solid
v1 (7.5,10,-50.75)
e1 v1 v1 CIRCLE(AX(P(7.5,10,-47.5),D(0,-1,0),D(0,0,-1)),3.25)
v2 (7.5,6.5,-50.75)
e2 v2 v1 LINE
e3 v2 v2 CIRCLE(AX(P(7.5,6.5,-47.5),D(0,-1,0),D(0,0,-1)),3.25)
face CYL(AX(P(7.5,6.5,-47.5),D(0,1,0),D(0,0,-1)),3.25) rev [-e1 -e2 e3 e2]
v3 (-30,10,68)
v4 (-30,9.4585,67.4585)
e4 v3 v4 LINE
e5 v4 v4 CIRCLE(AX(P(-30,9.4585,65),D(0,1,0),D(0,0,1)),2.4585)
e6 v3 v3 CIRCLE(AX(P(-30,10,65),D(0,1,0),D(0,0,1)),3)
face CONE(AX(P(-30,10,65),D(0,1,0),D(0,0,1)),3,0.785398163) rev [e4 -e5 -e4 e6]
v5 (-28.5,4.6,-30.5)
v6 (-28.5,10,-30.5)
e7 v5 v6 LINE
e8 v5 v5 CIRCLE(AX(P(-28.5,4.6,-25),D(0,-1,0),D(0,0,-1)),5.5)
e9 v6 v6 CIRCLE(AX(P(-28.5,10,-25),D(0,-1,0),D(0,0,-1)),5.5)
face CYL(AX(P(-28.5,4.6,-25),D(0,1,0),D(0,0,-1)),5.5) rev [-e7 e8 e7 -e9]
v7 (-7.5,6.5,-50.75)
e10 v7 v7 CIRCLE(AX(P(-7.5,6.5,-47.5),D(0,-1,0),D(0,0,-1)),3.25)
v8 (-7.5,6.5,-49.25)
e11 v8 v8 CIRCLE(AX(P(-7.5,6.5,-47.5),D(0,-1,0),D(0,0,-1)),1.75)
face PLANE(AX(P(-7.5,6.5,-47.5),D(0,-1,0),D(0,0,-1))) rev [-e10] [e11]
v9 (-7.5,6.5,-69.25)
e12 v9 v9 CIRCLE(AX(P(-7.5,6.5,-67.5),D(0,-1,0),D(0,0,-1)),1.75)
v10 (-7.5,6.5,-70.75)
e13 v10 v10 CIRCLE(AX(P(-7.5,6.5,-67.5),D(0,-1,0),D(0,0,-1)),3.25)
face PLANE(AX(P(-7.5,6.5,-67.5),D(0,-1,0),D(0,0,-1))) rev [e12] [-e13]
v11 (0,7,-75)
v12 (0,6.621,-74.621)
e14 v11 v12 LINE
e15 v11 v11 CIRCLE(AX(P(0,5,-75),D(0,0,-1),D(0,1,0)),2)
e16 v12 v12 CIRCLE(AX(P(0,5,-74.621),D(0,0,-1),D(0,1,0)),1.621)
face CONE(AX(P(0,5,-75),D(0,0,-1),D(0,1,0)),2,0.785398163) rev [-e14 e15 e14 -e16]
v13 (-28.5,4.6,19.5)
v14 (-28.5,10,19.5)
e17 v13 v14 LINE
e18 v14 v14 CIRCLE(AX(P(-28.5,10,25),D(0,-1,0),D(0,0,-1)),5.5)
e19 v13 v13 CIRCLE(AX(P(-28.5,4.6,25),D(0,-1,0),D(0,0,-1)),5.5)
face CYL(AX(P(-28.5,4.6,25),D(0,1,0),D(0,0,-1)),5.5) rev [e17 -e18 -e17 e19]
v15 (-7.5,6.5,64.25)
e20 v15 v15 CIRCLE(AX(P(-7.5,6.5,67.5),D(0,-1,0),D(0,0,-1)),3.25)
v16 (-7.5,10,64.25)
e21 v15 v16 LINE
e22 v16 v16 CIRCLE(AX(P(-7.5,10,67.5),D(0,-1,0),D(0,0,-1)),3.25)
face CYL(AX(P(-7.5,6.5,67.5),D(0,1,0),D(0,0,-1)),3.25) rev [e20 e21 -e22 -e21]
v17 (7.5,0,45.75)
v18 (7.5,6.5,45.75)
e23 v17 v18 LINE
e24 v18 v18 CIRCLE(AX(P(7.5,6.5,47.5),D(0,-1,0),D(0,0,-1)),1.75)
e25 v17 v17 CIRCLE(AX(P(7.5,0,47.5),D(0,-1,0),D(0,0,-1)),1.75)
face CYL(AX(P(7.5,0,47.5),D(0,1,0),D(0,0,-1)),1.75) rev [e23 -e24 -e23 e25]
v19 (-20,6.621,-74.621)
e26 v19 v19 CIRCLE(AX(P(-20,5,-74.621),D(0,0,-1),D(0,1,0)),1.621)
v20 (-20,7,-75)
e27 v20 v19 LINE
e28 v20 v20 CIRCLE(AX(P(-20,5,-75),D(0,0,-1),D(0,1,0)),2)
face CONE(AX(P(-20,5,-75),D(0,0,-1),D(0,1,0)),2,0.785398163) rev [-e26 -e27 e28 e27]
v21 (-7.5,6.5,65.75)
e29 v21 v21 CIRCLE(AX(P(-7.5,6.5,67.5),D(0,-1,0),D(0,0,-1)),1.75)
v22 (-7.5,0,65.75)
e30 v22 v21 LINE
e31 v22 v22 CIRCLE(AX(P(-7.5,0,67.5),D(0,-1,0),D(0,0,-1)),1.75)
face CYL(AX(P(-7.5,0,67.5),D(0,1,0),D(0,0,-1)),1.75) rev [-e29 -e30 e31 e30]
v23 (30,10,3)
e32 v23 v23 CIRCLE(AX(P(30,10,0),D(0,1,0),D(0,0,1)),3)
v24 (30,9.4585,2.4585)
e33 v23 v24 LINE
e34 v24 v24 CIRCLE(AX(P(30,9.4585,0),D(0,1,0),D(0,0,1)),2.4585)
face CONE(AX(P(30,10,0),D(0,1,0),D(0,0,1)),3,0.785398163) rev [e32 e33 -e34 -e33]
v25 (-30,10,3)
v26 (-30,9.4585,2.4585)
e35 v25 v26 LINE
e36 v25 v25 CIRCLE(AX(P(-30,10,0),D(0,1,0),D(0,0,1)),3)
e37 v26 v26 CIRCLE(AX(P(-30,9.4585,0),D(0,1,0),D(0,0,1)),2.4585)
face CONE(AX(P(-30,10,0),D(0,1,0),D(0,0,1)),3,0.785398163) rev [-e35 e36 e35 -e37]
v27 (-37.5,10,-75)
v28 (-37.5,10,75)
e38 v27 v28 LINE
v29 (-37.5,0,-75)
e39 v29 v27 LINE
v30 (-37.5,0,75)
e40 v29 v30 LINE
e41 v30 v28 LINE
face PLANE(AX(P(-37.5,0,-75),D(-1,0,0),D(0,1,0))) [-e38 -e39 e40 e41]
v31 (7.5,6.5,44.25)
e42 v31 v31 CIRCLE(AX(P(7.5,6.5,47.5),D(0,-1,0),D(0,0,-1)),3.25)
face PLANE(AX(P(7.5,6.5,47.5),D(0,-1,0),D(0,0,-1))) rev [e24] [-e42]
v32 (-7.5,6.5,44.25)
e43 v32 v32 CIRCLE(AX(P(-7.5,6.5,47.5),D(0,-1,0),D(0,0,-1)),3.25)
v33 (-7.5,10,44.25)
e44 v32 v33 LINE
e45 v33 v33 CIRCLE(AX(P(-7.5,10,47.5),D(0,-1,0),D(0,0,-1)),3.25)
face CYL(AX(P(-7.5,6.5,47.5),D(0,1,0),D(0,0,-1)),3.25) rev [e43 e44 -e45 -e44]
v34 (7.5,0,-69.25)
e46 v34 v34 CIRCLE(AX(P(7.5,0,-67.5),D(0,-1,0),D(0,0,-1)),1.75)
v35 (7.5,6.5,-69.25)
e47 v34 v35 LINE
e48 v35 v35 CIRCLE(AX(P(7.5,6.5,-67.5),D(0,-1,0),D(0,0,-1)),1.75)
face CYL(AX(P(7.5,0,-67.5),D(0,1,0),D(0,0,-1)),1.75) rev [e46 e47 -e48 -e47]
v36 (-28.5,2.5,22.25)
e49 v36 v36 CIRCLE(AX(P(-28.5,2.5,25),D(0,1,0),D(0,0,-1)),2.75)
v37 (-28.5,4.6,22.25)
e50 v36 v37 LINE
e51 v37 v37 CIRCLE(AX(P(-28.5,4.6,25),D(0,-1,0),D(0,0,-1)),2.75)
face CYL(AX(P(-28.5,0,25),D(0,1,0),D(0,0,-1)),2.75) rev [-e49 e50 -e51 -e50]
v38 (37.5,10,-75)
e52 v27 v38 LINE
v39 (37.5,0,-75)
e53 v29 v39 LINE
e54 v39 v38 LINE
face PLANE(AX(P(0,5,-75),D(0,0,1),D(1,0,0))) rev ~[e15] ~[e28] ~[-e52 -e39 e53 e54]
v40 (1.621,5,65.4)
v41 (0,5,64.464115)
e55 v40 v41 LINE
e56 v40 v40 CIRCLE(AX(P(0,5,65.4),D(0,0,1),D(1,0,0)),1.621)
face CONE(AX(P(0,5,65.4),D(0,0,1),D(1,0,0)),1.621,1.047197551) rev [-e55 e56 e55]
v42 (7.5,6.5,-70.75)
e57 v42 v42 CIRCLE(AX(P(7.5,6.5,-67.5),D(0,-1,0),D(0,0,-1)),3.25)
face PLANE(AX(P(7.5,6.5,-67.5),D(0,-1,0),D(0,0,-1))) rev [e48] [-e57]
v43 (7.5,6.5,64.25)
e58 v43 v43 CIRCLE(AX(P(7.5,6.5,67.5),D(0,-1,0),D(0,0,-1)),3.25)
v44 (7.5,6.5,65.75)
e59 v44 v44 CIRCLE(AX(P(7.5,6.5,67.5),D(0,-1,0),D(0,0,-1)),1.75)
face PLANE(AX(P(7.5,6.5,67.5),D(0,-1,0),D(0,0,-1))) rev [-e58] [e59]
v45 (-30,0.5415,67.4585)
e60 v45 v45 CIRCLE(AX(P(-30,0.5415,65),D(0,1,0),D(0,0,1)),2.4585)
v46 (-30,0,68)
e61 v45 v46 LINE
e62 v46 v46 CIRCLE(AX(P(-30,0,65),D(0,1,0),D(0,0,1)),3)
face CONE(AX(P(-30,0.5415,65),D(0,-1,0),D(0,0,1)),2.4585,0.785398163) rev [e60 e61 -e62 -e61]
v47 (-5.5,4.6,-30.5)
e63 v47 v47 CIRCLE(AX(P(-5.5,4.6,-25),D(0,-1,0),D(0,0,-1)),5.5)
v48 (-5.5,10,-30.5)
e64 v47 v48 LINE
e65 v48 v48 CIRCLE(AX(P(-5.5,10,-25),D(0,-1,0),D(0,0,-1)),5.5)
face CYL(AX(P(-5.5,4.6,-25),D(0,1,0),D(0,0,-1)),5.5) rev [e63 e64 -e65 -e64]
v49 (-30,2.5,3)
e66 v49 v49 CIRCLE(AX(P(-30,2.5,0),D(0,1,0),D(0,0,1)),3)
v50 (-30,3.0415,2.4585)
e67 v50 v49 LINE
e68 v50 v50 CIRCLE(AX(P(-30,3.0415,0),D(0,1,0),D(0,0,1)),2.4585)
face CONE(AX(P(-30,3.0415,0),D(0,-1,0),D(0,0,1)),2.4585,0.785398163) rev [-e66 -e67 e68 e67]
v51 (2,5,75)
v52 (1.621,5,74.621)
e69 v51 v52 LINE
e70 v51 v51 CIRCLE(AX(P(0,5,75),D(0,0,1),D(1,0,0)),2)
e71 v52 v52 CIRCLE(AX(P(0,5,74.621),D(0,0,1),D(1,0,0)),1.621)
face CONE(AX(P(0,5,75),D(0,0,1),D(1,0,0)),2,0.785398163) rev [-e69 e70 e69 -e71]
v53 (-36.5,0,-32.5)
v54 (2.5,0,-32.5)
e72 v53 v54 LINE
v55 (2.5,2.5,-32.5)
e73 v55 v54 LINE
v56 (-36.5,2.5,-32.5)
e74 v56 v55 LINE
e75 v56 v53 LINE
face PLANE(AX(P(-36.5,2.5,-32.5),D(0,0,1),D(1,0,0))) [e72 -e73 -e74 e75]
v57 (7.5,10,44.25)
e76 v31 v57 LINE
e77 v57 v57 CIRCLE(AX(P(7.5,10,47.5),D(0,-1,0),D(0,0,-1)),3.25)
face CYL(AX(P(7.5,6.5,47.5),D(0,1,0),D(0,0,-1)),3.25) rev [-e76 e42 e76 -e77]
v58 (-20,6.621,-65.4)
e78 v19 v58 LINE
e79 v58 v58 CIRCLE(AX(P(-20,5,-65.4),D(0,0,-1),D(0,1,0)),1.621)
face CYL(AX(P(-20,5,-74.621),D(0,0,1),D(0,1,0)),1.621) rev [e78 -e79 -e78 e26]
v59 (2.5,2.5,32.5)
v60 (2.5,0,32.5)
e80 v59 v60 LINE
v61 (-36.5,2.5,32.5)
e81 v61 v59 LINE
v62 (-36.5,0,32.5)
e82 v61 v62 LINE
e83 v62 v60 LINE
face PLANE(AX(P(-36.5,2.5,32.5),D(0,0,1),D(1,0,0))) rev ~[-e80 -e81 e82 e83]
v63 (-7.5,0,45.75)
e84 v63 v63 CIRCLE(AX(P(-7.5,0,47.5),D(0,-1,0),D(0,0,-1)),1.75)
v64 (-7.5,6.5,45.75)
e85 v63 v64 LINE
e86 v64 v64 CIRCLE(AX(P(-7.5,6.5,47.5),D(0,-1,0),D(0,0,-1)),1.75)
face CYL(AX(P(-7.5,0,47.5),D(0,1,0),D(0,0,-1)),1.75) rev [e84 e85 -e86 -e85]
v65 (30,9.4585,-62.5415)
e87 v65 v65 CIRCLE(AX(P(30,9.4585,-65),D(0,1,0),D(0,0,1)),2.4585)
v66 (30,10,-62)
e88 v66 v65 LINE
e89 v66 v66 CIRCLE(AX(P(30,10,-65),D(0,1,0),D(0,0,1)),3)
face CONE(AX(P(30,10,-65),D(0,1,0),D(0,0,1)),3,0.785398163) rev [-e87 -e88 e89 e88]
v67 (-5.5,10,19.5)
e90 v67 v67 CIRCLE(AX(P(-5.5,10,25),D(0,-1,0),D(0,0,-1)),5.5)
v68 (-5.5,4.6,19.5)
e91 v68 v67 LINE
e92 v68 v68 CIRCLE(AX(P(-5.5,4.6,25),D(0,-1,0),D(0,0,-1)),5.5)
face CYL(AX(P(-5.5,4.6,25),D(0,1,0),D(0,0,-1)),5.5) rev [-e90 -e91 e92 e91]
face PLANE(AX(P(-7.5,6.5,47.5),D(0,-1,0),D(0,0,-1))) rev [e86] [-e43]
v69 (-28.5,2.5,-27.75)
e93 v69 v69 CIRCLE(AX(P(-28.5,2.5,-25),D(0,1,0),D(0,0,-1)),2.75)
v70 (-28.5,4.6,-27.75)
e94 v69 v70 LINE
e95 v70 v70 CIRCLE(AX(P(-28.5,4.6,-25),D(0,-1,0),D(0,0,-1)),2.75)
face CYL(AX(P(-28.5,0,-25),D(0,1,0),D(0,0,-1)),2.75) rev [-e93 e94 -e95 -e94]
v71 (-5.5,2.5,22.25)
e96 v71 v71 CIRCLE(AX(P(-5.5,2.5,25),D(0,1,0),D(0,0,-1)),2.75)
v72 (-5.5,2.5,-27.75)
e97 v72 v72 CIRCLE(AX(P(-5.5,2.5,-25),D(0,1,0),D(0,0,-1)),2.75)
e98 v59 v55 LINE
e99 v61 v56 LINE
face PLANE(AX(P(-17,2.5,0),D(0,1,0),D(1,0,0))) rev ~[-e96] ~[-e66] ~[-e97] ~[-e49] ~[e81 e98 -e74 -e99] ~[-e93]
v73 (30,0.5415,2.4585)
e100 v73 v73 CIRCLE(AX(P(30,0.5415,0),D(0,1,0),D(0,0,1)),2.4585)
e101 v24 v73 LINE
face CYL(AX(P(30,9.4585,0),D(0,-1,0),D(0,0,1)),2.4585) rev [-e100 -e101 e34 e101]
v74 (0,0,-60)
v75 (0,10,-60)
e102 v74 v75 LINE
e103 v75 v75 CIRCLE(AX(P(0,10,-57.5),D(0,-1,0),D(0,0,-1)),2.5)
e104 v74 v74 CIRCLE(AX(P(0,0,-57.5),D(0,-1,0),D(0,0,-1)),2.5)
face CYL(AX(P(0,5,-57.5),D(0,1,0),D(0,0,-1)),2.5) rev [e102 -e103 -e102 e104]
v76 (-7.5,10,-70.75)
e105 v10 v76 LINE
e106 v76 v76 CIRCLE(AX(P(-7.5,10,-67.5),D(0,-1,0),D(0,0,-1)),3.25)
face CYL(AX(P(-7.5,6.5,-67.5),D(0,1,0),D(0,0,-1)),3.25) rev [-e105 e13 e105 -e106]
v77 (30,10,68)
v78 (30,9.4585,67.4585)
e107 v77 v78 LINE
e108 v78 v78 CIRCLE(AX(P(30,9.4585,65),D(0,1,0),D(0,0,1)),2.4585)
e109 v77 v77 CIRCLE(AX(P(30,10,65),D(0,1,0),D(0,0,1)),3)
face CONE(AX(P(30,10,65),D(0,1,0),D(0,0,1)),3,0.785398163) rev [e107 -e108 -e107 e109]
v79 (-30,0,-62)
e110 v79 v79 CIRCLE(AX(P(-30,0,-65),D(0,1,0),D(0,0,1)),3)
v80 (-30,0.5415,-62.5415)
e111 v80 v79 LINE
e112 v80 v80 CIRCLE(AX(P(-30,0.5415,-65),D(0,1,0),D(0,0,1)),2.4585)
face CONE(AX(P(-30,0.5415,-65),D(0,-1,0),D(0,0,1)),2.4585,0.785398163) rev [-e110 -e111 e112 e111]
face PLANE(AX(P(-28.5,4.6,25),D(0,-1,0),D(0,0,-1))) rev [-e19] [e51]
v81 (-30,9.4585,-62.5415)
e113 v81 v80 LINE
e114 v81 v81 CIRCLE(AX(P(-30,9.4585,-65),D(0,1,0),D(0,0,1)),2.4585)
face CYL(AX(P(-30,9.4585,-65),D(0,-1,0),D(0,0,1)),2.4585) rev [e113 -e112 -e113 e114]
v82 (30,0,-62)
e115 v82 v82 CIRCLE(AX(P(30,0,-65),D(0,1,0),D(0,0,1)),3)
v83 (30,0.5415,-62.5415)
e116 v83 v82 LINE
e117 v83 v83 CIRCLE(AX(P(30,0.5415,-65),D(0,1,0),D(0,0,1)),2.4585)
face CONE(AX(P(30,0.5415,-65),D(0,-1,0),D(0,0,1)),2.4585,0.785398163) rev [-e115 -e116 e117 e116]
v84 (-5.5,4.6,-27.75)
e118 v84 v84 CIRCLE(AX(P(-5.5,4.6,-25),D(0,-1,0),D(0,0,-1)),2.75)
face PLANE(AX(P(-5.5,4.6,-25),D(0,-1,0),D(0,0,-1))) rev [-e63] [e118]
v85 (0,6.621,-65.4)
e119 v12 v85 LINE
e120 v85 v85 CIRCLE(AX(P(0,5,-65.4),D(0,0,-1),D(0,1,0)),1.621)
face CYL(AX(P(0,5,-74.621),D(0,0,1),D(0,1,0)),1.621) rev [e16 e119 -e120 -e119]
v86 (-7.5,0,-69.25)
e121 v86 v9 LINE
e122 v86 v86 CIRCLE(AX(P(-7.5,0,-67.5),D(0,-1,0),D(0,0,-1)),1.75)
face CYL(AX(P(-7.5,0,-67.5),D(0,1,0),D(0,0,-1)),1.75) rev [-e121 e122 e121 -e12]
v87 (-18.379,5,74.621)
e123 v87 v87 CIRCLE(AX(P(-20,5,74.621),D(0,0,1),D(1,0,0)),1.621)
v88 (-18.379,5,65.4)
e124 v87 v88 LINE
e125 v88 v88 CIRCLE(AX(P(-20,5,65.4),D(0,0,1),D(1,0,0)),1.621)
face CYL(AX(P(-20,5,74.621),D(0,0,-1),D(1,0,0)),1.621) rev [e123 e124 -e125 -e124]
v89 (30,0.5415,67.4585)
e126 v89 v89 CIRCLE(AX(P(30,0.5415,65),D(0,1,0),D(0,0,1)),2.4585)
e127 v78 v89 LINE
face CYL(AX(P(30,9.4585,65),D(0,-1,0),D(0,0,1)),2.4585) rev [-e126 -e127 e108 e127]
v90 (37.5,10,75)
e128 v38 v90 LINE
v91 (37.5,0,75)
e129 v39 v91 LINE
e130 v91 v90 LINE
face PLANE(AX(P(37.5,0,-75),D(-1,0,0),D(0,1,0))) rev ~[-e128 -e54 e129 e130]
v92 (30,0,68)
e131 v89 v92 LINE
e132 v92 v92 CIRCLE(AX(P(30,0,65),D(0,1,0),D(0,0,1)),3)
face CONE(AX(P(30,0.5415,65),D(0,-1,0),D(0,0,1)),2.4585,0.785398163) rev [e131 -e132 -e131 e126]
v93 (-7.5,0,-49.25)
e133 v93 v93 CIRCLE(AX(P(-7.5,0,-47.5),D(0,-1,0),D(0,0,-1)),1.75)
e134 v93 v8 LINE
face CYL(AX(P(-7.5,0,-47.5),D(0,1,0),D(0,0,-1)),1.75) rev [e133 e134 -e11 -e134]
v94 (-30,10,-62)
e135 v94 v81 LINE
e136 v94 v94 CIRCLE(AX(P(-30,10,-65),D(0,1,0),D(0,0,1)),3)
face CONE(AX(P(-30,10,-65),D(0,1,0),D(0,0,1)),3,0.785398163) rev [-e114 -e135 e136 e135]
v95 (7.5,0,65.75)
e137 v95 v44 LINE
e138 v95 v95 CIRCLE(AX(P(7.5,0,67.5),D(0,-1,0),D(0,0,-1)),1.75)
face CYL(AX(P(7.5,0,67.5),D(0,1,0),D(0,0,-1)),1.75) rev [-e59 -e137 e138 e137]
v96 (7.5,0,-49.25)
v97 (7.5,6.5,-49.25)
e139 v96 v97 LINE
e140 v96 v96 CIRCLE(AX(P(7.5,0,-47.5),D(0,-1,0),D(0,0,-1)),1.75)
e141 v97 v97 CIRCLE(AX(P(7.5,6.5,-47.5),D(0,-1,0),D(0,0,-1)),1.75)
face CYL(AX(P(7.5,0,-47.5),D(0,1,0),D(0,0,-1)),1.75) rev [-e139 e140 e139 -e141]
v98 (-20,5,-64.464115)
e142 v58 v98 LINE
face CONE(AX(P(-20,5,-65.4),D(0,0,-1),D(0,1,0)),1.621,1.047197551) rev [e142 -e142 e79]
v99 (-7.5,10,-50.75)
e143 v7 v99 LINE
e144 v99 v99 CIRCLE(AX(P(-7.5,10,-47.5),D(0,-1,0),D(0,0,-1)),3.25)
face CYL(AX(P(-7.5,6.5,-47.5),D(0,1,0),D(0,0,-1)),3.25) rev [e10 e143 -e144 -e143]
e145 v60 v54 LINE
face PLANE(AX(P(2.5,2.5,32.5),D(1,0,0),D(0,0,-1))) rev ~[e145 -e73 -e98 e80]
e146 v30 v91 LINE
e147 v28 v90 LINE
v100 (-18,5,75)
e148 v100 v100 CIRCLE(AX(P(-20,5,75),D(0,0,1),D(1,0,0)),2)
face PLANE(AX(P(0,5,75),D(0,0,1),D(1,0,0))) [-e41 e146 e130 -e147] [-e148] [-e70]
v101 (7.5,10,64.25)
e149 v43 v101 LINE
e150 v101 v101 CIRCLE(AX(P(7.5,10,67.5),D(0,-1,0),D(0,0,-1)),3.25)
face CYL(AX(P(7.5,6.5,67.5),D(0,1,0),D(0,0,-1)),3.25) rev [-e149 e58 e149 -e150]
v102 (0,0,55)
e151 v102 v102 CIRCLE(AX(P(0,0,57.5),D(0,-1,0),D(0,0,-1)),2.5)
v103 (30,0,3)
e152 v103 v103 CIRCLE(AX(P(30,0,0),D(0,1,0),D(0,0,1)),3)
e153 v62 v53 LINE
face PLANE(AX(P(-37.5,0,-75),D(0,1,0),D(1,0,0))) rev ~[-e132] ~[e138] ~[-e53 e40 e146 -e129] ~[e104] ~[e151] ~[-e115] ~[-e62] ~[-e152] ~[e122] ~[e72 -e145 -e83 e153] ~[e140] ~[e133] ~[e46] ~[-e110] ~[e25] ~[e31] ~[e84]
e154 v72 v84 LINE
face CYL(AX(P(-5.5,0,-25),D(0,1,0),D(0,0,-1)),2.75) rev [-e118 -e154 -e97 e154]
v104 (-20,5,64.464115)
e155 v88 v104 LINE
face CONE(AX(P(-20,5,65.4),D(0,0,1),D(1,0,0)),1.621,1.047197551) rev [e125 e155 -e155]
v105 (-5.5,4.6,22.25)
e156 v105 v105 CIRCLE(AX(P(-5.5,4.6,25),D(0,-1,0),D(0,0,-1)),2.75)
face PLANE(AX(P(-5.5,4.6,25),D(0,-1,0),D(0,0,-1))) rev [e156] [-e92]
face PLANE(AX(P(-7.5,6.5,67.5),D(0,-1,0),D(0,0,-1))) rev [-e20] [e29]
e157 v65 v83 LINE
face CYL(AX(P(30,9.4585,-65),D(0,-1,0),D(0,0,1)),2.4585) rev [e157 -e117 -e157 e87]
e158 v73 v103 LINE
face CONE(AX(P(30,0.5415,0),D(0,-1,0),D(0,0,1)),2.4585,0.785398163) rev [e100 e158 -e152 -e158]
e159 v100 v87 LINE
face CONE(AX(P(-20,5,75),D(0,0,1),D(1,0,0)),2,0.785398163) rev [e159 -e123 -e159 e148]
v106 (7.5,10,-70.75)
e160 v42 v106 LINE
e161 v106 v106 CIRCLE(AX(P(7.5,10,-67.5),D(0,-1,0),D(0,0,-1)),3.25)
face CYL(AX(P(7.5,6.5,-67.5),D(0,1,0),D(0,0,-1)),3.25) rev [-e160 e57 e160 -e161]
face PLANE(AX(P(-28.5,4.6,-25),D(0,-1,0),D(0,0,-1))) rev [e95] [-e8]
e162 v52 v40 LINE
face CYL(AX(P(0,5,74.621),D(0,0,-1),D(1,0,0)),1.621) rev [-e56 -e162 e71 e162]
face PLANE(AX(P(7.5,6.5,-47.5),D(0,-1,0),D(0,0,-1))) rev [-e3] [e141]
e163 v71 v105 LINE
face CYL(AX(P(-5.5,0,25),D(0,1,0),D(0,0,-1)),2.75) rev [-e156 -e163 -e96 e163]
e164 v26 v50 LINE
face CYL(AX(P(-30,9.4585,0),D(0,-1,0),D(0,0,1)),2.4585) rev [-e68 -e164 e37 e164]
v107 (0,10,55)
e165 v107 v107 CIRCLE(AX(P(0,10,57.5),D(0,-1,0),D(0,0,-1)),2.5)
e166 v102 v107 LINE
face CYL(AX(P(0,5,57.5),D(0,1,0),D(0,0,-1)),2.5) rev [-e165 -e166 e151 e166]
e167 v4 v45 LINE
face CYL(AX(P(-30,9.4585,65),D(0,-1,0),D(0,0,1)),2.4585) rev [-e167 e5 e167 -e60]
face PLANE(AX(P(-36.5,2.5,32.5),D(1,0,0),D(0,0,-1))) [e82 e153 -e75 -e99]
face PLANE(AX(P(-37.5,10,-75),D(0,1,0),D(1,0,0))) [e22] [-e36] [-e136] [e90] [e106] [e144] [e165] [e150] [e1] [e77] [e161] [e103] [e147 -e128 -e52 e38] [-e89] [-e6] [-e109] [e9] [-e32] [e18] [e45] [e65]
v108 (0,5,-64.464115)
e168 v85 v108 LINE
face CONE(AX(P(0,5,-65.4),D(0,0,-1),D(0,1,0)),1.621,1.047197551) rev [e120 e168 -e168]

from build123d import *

# Parameters (mm, degrees)
EXTRUDE_1_DEPTH             = 75
EXTRUDE_1_DEPTH_BACK        = 75
SKETCH_1_W                  = 75
SKETCH_1_H                  = 10
SKETCH_2_W                  = 2.5
SKETCH_2_H                  = 10
SKETCH_3_W                  = 2.5
SKETCH_3_H                  = 10
PATTERN_LINEAR_2_COUNT      = 2
PATTERN_LINEAR_2_PITCH      = 23
PATTERN_LINEAR_2_COUNT_DIR2 = 2
PATTERN_LINEAR_2_PITCH_DIR2 = 50
SKETCH_15_W                 = 39
SKETCH_15_H                 = 65
CUT_EXTRUDE_1_DEPTH         = 32.5


with BuildPart() as part:
    # 草图1 → 凸台-拉伸1 (new, two sides: drawn at the far end of the back side and taken through both)
    with BuildSketch(Plane.XY.offset(-EXTRUDE_1_DEPTH_BACK)):
        with Locations((0, 5)):
            Rectangle(SKETCH_1_W, SKETCH_1_H)
    extrude(amount=EXTRUDE_1_DEPTH + EXTRUDE_1_DEPTH_BACK)

    # 草图2 → 切除-旋转1 (revolve, cut)
    with BuildSketch(Plane.XY.offset(57.5)):
        with Locations((-1.25, 5)):
            Rectangle(SKETCH_2_W, SKETCH_2_H)
    revolve(axis=Axis((0, 10, 57.5), (0, -1, 0)), mode=Mode.SUBTRACT)

    # 草图3 → 切除-旋转2 (revolve, cut)
    with BuildSketch(Plane.XY.offset(-57.5)):
        with Locations((-1.25, 5)):
            Rectangle(SKETCH_3_W, SKETCH_3_H)
    revolve(axis=Axis((0, 10, -57.5), (0, -1, 0)), mode=Mode.SUBTRACT)

    # 草图4 → 切除-旋转3 (revolve, cut)
    with BuildSketch(Plane.XY.offset(67.5)):
        Polygon((-7.5, 0), (-9.25, 0), (-9.25, 6.5), (-10.75, 6.5), (-10.75, 10), (-7.5, 10), align=None)
    revolve(axis=Axis((-7.5, 10, 67.5), (0, -1, 0)), mode=Mode.SUBTRACT)

    # 草图6 → 切除-旋转4 (revolve, cut)
    with BuildSketch(Plane.XY.offset(-47.5)):
        Polygon((7.5, 0), (5.75, 0), (5.75, 6.5), (4.25, 6.5), (4.25, 10), (7.5, 10), align=None)
    revolve(axis=Axis((7.5, 10, -47.5), (0, -1, 0)), mode=Mode.SUBTRACT)

    # 草图7 → 切除-旋转5 (revolve, cut)
    with BuildSketch(Plane.XY.offset(-47.5)):
        Polygon((-7.5, 0), (-9.25, 0), (-9.25, 6.5), (-10.75, 6.5), (-10.75, 10), (-7.5, 10), align=None)
    revolve(axis=Axis((-7.5, 10, -47.5), (0, -1, 0)), mode=Mode.SUBTRACT)

    # 草图8 → 切除-旋转6 (revolve, cut)
    with BuildSketch(Plane.XY.offset(-67.5)):
        Polygon((7.5, 0), (5.75, 0), (5.75, 6.5), (4.25, 6.5), (4.25, 10), (7.5, 10), align=None)
    revolve(axis=Axis((7.5, 10, -67.5), (0, -1, 0)), mode=Mode.SUBTRACT)

    # 草图9 → 切除-旋转7 (revolve, cut)
    with BuildSketch(Plane.XY.offset(-67.5)):
        Polygon((-7.5, 0), (-9.25, 0), (-9.25, 6.5), (-10.75, 6.5), (-10.75, 10), (-7.5, 10), align=None)
    revolve(axis=Axis((-7.5, 10, -67.5), (0, -1, 0)), mode=Mode.SUBTRACT)

    # 草图10 → 切除-旋转8 (revolve, cut)
    with BuildSketch(Plane.XY.offset(47.5)):
        Polygon((7.5, 0), (5.75, 0), (5.75, 6.5), (4.25, 6.5), (4.25, 10), (7.5, 10), align=None)
    revolve(axis=Axis((7.5, 10, 47.5), (0, -1, 0)), mode=Mode.SUBTRACT)

    # 草图11 → 切除-旋转9 (revolve, cut)
    with BuildSketch(Plane.XY.offset(47.5)):
        Polygon((-7.5, 0), (-9.25, 0), (-9.25, 6.5), (-10.75, 6.5), (-10.75, 10), (-7.5, 10), align=None)
    revolve(axis=Axis((-7.5, 10, 47.5), (0, -1, 0)), mode=Mode.SUBTRACT)

    # 草图12 → 切除-旋转10 (revolve, cut)
    with BuildSketch(Plane.XY.offset(67.5)):
        Polygon((7.5, 0), (5.75, 0), (5.75, 6.5), (4.25, 6.5), (4.25, 10), (7.5, 10), align=None)
    revolve(axis=Axis((7.5, 10, 67.5), (0, -1, 0)), mode=Mode.SUBTRACT)

    # 草图13 → 切除-旋转11 (revolve, cut)
    with BuildSketch(Plane(origin=(-28.5, 0, 0), x_dir=(0, 0, -1), z_dir=(1, 0, 0))):
        Polygon((-25, 0), (-27.75, 0), (-27.75, 4.6), (-30.5, 4.6), (-30.5, 10), (-25, 10), align=None)
    cut_revolve_11 = revolve(axis=Axis((-28.5, 10, 25), (0, -1, 0)), mode=Mode.SUBTRACT)

    # 阵列(线性)2: Cut-Revolve 11 2 × 2
    with Locations(*[(i * PATTERN_LINEAR_2_PITCH, 0, -j * PATTERN_LINEAR_2_PITCH_DIR2) for i in range(PATTERN_LINEAR_2_COUNT) for j in range(PATTERN_LINEAR_2_COUNT_DIR2) if (i, j) != (0, 0)]):
        add(cut_revolve_11, mode=Mode.SUBTRACT)

    # 草图15 → 切除-拉伸1 (cut)
    with BuildSketch(Plane(origin=(0, 2.5, 0), x_dir=(1, 0, 0), z_dir=(0, 1, 0))):
        with Locations((-17, 0)):
            Rectangle(SKETCH_15_W, SKETCH_15_H)
    extrude(amount=-CUT_EXTRUDE_1_DEPTH, mode=Mode.SUBTRACT)

    # 草图16 → 切除-旋转12 (revolve, cut)
    with BuildSketch(Plane(origin=(0, 0, 0), x_dir=(0, 0, -1), z_dir=(1, 0, 0))):
        Polygon((-75, 5), (-75, 7), (-74.621, 6.621), (-65.4, 6.621), (-64.464115214, 5), align=None)
    revolve(axis=Axis((0, 5, 64.464115214), (0, 0, 1)), mode=Mode.SUBTRACT)

    # 草图17 → 切除-旋转13 (revolve, cut)
    with BuildSketch(Plane(origin=(0, 0, 0), x_dir=(0, 0, -1), z_dir=(1, 0, 0))):
        Polygon((75, 5), (75, 3), (74.621, 3.379), (65.4, 3.379), (64.464115214, 5), align=None)
    revolve(axis=Axis((0, 5, -64.464115214), (0, 0, -1)), mode=Mode.SUBTRACT)

    # 草图18 → 切除-旋转14 (revolve, cut)
    with BuildSketch(Plane(origin=(-20, 0, 0), x_dir=(0, 0, -1), z_dir=(1, 0, 0))):
        Polygon((-75, 5), (-75, 7), (-74.621, 6.621), (-65.4, 6.621), (-64.464115214, 5), align=None)
    revolve(axis=Axis((-20, 5, 64.464115214), (0, 0, 1)), mode=Mode.SUBTRACT)

    # 草图19 → 切除-旋转15 (revolve, cut)
    with BuildSketch(Plane(origin=(-20, 0, 0), x_dir=(0, 0, -1), z_dir=(1, 0, 0))):
        Polygon((75, 5), (75, 3), (74.621, 3.379), (65.4, 3.379), (64.464115214, 5), align=None)
    revolve(axis=Axis((-20, 5, -64.464115214), (0, 0, -1)), mode=Mode.SUBTRACT)

    # 草图20 → 切除-旋转16 (revolve, cut)
    with BuildSketch(Plane(origin=(30, 0, 0), x_dir=(0, 0, -1), z_dir=(1, 0, 0))):
        Polygon((-65, 10), (-62, 10), (-62.5415, 9.4585), (-62.5415, 0.5415), (-62, 0), (-65, 0), align=None)
    revolve(axis=Axis((30, 0, 65), (0, 1, 0)), mode=Mode.SUBTRACT)

    # 草图21 → 切除-旋转17 (revolve, cut)
    with BuildSketch(Plane(origin=(30, 0, 0), x_dir=(0, 0, -1), z_dir=(1, 0, 0))):
        Polygon((65, 10), (68, 10), (67.4585, 9.4585), (67.4585, 0.5415), (68, 0), (65, 0), align=None)
    revolve(axis=Axis((30, 0, -65), (0, 1, 0)), mode=Mode.SUBTRACT)

    # 草图22 → 切除-旋转18 (revolve, cut)
    with BuildSketch(Plane(origin=(30, 0, 0), x_dir=(0, 0, -1), z_dir=(1, 0, 0))):
        Polygon((0, 10), (3, 10), (2.4585, 9.4585), (2.4585, 0.5415), (3, 0), (0, 0), align=None)
    revolve(axis=Axis((30, 0, 0), (0, 1, 0)), mode=Mode.SUBTRACT)

    # 草图23 → 切除-旋转19 (revolve, cut)
    with BuildSketch(Plane(origin=(-30, 0, 0), x_dir=(0, 0, -1), z_dir=(1, 0, 0))):
        Polygon((-65, 10), (-62, 10), (-62.5415, 9.4585), (-62.5415, 0.5415), (-62, 0), (-65, 0), align=None)
    revolve(axis=Axis((-30, 0, 65), (0, 1, 0)), mode=Mode.SUBTRACT)

    # 草图24 → 切除-旋转20 (revolve, cut)
    with BuildSketch(Plane(origin=(-30, 0, 0), x_dir=(0, 0, -1), z_dir=(1, 0, 0))):
        Polygon((65, 10), (68, 10), (67.4585, 9.4585), (67.4585, 0.5415), (68, 0), (65, 0), align=None)
    revolve(axis=Axis((-30, 0, -65), (0, 1, 0)), mode=Mode.SUBTRACT)

    # 草图25 → 切除-旋转21 (revolve, cut)
    with BuildSketch(Plane(origin=(-30, 0, 0), x_dir=(0, 0, -1), z_dir=(1, 0, 0))):
        Polygon((0, 10), (3, 10), (2.4585, 9.4585), (2.4585, 3.0415), (3, 2.5), (0, 2.5), align=None)
    revolve(axis=Axis((-30, 2.5, 0), (0, 1, 0)), mode=Mode.SUBTRACT)


solid = part.part
